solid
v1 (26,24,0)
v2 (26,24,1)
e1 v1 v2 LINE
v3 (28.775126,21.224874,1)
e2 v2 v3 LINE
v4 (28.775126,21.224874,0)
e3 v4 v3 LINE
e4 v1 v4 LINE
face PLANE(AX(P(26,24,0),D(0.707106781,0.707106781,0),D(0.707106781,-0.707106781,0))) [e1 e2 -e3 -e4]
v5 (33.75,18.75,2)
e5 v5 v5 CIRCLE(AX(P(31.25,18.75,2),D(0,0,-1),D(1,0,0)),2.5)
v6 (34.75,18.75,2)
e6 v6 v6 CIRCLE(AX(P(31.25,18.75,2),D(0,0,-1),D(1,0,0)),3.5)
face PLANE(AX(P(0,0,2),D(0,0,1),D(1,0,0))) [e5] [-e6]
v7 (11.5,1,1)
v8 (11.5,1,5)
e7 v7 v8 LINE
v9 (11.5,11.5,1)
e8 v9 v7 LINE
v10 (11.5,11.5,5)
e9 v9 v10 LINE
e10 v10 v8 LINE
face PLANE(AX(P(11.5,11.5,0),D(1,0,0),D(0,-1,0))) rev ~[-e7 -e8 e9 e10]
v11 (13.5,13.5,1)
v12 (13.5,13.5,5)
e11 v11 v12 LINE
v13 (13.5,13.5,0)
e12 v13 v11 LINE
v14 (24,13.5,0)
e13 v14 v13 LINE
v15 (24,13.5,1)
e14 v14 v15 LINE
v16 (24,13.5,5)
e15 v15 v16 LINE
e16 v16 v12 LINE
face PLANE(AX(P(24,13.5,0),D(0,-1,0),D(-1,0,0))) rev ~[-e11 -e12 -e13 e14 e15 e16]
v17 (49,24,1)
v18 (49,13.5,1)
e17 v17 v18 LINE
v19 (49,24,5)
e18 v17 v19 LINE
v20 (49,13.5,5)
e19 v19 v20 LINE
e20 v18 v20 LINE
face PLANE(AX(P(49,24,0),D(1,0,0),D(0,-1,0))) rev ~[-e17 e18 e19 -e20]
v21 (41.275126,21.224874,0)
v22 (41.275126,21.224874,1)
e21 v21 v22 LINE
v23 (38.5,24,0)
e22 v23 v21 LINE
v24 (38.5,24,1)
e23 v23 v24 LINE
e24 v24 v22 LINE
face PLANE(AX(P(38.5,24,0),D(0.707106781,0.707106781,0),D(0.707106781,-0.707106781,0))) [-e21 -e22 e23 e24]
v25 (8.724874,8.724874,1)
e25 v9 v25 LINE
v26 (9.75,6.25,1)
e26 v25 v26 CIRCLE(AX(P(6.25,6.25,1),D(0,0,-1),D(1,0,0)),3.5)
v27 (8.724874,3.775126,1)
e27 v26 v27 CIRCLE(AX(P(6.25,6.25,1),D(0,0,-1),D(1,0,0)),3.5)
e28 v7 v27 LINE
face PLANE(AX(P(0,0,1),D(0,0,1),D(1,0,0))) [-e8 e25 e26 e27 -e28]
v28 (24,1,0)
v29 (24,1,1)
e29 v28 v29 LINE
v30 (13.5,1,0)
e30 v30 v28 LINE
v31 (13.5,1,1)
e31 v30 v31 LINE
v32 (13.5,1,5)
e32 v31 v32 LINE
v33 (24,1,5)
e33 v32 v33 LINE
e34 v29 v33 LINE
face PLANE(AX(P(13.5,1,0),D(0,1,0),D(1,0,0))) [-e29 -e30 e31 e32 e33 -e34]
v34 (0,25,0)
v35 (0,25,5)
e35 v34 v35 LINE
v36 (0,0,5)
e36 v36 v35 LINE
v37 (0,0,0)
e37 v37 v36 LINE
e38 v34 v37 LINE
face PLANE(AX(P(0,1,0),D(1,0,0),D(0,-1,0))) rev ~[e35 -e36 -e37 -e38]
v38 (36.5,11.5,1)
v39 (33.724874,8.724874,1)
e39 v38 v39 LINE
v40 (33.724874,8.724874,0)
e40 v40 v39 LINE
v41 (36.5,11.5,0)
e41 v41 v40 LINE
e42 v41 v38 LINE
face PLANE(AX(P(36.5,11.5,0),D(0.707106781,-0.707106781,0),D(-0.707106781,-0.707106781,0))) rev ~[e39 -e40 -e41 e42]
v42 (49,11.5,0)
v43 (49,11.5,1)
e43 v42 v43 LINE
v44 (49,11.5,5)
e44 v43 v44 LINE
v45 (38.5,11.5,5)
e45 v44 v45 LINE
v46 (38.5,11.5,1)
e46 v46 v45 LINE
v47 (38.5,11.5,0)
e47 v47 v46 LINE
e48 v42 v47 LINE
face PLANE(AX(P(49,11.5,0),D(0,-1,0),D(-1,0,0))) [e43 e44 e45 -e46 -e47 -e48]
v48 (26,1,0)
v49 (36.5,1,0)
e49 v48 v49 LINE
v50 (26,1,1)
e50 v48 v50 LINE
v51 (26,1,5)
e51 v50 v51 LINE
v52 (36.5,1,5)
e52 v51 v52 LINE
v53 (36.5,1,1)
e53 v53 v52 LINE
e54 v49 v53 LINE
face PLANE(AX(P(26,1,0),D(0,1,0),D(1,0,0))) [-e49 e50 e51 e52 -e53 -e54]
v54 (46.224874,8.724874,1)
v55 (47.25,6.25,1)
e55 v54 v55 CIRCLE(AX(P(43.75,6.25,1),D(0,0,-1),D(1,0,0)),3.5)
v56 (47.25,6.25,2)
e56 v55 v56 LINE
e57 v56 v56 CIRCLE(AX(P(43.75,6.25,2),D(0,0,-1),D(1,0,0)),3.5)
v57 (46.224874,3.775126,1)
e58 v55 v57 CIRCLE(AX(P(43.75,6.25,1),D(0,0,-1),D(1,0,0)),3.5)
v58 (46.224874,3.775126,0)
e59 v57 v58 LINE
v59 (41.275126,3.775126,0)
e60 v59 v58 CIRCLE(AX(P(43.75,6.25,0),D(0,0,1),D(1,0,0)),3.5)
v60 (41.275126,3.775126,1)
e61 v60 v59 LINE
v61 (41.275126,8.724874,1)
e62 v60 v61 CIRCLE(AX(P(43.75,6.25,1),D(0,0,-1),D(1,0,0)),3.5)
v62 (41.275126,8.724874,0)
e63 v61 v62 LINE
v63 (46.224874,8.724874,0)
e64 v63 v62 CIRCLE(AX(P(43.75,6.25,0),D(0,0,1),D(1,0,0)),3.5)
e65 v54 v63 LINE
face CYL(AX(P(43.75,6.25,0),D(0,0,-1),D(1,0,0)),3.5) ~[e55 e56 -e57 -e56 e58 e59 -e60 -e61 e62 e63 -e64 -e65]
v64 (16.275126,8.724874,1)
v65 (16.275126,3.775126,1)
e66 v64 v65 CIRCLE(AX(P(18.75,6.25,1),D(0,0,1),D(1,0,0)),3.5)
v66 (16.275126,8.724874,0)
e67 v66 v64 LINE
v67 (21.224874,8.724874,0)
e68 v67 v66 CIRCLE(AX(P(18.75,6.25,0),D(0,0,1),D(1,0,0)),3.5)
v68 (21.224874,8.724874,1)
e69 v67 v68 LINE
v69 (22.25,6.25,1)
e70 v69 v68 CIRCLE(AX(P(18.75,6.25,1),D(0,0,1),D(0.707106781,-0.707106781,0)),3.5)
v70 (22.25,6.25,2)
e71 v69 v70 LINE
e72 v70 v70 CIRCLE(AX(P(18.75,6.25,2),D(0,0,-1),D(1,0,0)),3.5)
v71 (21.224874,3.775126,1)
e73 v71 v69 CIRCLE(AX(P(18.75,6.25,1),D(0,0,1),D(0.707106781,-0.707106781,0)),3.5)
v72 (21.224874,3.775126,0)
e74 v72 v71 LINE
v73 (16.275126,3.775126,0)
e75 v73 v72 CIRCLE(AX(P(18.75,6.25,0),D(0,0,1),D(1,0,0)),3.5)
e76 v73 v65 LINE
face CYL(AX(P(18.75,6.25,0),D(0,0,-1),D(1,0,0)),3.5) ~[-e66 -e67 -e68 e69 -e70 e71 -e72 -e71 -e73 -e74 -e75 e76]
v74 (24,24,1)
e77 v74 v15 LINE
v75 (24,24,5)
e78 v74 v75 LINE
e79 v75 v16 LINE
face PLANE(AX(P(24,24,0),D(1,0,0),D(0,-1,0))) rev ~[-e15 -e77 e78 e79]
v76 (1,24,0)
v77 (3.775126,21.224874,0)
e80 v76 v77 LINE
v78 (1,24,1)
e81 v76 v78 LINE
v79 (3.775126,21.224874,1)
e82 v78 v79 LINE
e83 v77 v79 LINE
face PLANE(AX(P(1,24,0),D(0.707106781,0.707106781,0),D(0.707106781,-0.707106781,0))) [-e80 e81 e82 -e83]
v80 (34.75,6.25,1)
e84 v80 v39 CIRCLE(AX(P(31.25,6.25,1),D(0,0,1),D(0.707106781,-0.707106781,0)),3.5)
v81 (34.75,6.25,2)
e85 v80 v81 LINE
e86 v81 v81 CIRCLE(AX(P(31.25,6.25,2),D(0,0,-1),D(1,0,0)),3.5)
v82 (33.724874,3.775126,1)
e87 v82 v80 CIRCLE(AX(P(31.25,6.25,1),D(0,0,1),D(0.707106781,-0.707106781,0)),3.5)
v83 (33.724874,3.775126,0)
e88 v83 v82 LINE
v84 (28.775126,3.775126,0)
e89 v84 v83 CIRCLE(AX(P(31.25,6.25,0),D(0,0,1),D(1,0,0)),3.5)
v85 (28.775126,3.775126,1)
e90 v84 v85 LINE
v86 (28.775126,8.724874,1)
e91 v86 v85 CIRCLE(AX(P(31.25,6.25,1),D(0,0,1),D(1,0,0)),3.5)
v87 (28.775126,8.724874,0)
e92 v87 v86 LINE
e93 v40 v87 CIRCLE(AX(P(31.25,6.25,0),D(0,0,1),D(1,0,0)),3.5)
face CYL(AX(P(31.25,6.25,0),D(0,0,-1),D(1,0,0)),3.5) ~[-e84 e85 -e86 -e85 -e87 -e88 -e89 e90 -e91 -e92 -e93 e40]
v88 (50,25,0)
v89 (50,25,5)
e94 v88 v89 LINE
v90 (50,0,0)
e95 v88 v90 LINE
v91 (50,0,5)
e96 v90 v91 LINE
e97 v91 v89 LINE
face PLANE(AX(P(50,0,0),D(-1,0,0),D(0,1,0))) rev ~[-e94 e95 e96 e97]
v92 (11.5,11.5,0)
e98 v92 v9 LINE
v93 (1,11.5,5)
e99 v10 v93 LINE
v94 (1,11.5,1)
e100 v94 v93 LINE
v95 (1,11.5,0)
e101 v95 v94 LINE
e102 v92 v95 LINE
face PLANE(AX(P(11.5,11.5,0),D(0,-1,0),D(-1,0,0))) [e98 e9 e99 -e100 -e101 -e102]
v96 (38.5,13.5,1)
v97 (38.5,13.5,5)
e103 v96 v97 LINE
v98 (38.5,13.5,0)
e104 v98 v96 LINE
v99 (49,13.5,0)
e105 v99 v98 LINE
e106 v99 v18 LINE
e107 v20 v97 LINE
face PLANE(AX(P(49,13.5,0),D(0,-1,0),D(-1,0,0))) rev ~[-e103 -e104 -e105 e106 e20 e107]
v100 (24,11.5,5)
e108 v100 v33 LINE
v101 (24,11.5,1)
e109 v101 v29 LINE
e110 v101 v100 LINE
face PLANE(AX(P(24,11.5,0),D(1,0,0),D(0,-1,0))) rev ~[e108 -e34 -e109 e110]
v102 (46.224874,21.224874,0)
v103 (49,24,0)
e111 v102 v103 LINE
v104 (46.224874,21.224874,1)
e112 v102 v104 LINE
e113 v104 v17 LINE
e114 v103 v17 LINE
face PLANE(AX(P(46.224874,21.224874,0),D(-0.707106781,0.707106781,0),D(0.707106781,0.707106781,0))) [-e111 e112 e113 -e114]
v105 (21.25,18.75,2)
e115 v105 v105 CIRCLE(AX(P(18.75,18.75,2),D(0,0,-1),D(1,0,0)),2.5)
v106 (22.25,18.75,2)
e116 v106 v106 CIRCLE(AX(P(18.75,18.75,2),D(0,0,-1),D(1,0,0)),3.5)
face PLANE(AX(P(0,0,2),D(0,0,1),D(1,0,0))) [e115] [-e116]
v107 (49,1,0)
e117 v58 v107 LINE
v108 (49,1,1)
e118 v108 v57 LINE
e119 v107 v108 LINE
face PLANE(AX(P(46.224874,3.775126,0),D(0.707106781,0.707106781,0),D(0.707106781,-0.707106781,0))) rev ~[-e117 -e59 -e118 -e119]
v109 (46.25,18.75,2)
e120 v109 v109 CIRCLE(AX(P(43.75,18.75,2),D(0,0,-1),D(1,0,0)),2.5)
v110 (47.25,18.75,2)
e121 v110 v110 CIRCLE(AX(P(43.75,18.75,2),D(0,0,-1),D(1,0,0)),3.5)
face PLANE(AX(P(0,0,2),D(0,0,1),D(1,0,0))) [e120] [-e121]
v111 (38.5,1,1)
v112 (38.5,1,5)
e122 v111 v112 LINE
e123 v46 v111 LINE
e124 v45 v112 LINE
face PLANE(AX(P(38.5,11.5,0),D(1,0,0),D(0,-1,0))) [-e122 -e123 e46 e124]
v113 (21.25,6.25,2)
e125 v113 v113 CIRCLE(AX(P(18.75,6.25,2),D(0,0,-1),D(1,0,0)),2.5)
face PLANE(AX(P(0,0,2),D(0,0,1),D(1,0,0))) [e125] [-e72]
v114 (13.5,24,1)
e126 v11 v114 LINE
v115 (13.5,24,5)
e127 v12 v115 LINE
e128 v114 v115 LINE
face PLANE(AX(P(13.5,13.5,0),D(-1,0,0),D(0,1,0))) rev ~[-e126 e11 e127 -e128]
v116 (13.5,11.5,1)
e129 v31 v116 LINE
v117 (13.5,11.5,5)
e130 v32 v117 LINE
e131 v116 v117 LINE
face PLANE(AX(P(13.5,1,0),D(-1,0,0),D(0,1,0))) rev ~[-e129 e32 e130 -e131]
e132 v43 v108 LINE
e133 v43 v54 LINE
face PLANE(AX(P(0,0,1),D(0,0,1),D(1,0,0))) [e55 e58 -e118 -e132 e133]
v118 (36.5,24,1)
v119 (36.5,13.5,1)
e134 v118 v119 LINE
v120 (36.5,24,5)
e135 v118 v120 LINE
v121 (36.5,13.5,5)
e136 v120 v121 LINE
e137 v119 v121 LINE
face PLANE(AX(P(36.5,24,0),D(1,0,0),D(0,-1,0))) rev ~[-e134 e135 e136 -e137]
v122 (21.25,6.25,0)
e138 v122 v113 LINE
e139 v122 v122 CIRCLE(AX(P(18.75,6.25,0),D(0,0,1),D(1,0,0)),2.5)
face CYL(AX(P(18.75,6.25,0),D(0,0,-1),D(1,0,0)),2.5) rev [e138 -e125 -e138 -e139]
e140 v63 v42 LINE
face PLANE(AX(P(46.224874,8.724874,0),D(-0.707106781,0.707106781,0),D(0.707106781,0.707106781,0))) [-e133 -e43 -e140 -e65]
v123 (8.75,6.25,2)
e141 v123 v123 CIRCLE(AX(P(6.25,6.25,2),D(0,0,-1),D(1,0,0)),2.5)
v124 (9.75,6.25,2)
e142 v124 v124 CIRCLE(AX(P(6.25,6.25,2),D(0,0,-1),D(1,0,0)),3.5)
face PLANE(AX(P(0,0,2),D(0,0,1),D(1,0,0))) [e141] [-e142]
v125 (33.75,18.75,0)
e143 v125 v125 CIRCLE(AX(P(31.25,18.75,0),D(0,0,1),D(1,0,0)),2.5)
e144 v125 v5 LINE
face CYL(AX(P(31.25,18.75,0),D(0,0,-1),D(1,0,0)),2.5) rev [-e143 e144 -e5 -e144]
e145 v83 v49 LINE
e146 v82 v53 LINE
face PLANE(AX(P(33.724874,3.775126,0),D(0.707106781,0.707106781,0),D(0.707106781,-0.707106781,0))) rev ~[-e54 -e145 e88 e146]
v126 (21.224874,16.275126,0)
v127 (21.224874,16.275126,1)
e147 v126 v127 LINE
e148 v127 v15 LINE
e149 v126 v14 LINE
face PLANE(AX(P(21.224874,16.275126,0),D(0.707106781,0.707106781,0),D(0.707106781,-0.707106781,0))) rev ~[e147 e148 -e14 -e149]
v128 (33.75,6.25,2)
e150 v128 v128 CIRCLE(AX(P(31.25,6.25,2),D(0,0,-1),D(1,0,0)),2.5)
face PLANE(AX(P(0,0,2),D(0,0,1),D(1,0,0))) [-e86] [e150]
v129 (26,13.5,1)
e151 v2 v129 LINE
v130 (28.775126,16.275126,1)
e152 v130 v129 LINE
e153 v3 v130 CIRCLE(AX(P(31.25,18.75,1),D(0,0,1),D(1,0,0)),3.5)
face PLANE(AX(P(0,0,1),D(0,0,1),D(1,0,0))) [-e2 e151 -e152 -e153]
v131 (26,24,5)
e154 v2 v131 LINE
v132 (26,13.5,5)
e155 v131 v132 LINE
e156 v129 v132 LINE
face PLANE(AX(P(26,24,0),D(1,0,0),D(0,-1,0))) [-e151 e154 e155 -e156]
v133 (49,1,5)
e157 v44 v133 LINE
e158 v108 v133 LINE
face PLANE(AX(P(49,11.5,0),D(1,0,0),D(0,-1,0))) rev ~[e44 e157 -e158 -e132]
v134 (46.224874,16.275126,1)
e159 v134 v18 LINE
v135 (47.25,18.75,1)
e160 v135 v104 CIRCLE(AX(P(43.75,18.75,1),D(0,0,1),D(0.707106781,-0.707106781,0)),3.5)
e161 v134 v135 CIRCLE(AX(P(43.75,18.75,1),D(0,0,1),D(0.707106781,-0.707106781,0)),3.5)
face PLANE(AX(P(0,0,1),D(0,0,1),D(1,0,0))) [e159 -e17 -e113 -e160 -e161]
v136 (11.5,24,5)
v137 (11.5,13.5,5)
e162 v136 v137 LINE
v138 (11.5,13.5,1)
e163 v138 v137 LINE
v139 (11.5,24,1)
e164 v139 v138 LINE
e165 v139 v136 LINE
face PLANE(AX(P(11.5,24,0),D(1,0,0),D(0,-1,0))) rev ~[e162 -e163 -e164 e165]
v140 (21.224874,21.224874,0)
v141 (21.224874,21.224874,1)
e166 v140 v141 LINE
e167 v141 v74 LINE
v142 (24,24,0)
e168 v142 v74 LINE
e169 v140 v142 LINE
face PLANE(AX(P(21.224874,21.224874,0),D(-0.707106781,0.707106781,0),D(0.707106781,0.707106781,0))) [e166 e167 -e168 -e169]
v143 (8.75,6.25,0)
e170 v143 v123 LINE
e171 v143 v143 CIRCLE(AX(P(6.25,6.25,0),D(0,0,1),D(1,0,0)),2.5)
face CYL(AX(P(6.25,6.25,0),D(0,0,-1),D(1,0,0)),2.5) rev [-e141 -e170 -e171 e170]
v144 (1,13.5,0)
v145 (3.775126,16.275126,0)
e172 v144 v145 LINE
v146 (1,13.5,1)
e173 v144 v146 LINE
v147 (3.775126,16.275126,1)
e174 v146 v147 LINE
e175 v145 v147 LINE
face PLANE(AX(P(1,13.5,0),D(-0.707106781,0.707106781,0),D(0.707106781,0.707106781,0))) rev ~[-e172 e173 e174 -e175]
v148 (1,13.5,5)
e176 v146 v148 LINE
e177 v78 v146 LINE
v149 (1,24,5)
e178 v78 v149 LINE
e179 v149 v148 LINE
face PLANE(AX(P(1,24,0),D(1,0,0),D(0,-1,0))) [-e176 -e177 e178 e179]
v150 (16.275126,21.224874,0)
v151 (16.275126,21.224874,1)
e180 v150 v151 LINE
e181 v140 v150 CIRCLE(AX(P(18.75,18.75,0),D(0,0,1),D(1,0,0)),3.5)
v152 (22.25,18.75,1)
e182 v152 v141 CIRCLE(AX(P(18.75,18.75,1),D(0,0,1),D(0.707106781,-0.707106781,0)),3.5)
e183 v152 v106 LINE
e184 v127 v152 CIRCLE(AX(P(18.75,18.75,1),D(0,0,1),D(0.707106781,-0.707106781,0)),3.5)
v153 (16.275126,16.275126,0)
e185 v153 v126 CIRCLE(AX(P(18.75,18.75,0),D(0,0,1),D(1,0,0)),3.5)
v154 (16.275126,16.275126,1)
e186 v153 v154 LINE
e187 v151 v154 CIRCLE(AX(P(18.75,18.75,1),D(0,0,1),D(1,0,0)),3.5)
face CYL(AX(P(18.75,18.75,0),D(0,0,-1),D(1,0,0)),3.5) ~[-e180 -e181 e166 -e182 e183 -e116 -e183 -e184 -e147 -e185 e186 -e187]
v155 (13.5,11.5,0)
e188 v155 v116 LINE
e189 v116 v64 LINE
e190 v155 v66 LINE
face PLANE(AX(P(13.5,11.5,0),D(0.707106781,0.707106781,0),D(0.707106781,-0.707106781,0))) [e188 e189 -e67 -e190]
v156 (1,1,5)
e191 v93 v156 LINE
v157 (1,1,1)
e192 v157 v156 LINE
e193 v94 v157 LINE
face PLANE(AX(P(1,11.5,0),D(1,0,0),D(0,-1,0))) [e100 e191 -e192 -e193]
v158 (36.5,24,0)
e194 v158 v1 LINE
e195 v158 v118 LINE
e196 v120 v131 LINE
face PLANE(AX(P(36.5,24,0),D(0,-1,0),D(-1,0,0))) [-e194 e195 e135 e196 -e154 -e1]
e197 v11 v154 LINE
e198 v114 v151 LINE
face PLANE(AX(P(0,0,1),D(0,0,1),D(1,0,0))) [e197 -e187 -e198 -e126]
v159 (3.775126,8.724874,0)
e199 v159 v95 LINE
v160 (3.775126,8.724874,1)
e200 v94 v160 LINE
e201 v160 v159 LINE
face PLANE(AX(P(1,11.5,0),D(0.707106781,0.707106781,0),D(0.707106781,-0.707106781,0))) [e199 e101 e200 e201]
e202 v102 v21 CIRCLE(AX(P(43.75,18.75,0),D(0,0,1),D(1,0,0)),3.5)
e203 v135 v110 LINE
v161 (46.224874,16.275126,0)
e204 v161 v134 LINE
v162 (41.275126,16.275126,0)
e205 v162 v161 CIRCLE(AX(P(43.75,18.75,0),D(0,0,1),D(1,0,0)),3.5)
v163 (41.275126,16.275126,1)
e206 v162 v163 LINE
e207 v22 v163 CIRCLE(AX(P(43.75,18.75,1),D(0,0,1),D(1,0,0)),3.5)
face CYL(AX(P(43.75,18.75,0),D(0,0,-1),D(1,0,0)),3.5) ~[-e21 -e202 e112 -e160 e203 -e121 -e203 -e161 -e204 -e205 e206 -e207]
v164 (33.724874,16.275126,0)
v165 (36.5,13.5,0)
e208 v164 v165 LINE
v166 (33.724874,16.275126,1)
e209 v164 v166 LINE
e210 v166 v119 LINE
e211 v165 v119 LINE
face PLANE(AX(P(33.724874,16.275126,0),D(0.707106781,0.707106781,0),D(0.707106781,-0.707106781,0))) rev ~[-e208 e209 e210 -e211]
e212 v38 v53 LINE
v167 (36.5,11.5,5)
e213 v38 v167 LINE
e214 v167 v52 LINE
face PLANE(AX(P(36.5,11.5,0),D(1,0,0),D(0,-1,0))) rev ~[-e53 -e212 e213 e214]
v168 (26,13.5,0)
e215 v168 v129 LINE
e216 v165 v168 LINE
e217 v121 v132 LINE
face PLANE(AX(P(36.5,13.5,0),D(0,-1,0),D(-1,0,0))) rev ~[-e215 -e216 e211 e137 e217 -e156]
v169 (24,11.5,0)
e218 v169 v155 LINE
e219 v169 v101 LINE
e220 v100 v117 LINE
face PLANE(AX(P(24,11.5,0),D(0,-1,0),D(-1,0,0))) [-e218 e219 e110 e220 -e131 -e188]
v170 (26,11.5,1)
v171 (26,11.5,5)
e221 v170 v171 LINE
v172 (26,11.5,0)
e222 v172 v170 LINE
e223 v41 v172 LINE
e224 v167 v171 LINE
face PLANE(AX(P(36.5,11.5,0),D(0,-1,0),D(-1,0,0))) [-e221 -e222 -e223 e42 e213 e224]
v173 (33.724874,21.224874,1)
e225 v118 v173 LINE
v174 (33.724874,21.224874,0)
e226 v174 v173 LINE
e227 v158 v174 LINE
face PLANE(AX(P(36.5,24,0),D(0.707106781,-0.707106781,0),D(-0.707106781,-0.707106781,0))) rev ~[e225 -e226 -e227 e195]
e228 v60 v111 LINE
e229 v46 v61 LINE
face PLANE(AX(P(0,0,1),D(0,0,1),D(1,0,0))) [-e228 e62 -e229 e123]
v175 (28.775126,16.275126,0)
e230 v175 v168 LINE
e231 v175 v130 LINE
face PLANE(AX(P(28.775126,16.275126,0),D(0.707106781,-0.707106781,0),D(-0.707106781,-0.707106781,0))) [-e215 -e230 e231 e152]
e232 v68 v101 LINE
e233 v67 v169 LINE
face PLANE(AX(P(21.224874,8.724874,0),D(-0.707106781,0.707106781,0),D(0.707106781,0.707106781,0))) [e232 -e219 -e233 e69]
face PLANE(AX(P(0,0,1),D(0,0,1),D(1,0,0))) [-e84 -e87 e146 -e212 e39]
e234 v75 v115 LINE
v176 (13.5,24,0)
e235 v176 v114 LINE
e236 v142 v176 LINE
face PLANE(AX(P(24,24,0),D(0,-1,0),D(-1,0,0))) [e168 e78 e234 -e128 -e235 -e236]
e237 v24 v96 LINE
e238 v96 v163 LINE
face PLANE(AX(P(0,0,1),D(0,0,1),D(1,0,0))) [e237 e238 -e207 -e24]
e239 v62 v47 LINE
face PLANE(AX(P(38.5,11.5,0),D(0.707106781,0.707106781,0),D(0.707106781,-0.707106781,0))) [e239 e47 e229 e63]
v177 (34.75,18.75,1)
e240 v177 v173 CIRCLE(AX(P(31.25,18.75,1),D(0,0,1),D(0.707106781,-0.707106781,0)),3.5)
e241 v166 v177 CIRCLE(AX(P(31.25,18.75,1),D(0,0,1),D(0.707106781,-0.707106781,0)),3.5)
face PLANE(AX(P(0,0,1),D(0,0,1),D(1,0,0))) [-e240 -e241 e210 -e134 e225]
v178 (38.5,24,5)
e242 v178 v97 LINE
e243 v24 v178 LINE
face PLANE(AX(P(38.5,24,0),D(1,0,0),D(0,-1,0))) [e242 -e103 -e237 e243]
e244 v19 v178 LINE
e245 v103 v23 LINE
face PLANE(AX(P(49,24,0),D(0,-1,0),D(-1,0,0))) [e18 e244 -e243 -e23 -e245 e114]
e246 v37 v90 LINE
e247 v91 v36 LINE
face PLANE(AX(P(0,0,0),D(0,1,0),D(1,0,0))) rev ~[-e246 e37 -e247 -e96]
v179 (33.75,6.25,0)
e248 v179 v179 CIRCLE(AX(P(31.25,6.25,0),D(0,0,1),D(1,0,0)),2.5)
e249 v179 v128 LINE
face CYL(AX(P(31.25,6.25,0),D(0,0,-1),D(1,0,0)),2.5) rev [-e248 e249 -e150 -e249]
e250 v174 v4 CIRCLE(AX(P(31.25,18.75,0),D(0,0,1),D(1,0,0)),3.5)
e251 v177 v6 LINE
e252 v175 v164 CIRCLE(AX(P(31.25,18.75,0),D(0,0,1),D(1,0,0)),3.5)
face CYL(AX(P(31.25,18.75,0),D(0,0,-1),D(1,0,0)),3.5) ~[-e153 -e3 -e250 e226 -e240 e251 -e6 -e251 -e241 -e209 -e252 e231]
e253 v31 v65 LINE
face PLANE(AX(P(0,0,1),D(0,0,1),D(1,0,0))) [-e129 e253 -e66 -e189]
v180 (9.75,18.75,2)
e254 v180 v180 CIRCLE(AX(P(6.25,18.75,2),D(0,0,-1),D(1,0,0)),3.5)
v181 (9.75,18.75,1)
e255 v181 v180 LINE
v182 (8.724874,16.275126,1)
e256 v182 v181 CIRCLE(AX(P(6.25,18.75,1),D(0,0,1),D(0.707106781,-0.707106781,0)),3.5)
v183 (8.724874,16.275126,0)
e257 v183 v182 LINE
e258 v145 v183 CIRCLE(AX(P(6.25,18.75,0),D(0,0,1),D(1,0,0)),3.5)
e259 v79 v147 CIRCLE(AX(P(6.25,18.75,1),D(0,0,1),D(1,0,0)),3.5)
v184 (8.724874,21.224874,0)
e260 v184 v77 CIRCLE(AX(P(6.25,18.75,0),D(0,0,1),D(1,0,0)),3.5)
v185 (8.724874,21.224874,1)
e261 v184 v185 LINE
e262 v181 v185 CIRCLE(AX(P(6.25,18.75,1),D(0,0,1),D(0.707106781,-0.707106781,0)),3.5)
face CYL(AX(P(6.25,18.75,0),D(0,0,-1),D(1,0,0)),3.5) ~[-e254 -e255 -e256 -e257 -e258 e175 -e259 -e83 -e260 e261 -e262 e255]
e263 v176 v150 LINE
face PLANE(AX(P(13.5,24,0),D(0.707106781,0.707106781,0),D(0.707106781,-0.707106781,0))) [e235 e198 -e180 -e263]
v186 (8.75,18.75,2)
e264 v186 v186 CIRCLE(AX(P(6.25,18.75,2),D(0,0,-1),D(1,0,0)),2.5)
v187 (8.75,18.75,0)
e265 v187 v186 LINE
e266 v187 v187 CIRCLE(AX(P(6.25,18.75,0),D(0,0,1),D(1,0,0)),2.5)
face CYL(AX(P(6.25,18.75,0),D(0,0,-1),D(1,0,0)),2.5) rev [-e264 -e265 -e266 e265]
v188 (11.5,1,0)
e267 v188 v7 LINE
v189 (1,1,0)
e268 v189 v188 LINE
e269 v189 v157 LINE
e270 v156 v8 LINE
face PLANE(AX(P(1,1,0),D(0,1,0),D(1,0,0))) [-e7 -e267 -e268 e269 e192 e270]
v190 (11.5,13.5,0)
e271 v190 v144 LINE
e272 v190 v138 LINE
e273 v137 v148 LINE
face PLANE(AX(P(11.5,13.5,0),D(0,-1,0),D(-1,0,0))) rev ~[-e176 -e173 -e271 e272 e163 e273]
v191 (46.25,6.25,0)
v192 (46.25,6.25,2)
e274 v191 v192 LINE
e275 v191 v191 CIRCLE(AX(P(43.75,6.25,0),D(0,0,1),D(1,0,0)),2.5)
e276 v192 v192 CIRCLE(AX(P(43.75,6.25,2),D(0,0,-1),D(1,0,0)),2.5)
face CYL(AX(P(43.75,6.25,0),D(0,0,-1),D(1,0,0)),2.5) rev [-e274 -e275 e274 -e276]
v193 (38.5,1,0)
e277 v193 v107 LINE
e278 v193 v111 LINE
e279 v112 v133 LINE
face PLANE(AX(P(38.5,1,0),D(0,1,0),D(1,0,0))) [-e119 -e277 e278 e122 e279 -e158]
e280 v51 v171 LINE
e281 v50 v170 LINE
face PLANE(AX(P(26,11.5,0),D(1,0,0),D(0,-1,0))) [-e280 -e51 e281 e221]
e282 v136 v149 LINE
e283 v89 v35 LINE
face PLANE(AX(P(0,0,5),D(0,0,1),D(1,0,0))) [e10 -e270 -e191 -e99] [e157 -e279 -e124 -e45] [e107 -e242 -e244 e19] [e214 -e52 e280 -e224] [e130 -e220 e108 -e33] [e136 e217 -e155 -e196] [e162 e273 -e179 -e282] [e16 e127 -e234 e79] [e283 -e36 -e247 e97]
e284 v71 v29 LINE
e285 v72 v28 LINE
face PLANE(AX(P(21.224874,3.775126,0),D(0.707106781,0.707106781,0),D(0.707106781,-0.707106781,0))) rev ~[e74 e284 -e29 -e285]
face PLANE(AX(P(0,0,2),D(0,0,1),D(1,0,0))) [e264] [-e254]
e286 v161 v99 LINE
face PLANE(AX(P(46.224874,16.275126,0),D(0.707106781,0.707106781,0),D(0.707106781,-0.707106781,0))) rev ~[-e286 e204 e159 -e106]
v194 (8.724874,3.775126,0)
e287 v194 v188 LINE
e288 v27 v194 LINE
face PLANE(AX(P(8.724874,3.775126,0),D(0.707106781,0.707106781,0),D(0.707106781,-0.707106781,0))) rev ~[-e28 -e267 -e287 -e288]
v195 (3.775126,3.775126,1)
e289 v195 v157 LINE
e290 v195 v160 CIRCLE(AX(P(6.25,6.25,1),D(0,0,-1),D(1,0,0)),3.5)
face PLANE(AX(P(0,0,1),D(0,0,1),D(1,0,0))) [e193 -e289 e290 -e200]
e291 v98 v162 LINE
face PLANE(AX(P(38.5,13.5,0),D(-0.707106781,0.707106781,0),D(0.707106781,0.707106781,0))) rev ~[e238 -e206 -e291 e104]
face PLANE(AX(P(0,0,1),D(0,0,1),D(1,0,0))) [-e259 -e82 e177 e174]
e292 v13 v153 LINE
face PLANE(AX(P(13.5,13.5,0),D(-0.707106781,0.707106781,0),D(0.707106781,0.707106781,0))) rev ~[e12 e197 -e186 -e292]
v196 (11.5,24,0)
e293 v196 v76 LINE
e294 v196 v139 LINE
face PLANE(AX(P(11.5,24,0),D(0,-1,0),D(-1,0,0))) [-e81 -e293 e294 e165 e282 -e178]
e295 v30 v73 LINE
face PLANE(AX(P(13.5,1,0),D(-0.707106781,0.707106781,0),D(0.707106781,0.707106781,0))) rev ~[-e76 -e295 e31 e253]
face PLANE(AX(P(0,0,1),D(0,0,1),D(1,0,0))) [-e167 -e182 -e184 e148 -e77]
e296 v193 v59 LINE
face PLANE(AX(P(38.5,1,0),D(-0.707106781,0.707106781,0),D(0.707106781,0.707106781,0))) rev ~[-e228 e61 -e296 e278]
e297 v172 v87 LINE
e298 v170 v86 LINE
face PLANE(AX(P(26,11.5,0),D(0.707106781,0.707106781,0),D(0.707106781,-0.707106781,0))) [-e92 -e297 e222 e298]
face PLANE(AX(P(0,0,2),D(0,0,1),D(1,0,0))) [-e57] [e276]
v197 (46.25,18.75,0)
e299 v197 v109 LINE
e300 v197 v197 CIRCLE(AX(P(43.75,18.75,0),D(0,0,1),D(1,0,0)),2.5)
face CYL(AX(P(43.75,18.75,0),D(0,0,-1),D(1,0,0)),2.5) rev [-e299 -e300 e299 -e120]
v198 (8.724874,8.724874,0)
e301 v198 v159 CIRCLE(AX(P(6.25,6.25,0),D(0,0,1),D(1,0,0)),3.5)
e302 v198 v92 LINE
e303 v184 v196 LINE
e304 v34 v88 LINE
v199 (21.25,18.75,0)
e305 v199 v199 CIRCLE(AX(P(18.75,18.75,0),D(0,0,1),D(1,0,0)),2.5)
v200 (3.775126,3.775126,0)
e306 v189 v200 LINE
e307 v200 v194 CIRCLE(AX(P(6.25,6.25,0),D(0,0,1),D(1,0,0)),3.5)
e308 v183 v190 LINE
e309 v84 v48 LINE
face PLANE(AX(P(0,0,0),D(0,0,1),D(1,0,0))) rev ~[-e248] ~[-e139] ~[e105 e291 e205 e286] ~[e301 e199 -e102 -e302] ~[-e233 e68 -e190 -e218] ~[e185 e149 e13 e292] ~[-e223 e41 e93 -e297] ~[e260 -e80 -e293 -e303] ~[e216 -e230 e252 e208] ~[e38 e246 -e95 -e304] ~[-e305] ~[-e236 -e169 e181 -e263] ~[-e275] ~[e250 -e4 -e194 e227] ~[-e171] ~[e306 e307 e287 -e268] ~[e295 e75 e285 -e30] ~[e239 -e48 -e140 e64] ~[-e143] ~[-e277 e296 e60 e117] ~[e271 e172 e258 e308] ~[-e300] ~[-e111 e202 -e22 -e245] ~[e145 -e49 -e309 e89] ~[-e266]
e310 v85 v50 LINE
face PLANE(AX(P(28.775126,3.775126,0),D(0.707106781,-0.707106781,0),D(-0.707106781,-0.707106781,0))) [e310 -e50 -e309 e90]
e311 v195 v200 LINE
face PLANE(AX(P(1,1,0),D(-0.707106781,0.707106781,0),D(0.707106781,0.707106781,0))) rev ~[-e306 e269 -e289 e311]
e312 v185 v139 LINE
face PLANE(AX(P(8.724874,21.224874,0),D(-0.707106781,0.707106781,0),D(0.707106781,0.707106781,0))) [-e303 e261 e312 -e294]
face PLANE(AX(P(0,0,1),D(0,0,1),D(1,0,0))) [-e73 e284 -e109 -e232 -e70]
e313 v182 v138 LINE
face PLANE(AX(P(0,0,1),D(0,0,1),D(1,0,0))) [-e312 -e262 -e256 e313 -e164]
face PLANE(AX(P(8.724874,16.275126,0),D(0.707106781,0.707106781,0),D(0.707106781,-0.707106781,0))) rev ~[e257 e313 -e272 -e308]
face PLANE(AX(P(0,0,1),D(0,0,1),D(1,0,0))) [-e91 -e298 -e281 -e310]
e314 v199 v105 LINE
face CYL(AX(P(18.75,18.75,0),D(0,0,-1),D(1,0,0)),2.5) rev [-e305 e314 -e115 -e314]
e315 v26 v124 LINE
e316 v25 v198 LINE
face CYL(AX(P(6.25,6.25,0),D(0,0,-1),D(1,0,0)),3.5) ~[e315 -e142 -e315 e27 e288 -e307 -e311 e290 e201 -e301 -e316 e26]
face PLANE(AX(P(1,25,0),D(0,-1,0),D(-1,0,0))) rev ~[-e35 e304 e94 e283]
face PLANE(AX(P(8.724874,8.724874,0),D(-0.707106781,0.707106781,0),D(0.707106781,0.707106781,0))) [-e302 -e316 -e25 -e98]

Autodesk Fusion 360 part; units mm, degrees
sketch "Sketch1" plane through (0, 0, 0) normal (0, 0, 1) x (1, 0, 0)
  line L0 (0, 0) -> (50, 0)
  line L1 (50, 0) -> (50, 25)
  line L2 (50, 25) -> (0, 25)
  line L3 (0, 25) -> (0, 0)
  line L4 (-2.5, -2.5) -> (52.5, -2.5)
  line L5 (52.5, -2.5) -> (52.5, 27.5)
  line L6 (52.5, 27.5) -> (-2.5, 27.5)
  line L7 (-2.5, 27.5) -> (-2.5, -2.5)
  line L8 (0, 25) -> (12.5, 25)
  line L9 (12.5, 25) -> (12.5, 12.5)
  line L10 (12.5, 12.5) -> (0, 12.5)
  line L11 (0, 12.5) -> (0, 25)
  line L12 (12.5, 12.5) -> (0, 12.5)
  line L13 (0, 12.5) -> (0, 0)
  line L14 (0, 0) -> (12.5, 0)
  line L15 (12.5, 0) -> (12.5, 12.5)
  line L16 (12.5, 12.5) -> (25, 12.5)
  line L17 (25, 12.5) -> (25, 25)
  line L18 (25, 25) -> (12.5, 25)
  line L19 (12.5, 25) -> (12.5, 12.5)
  line L20 (12.5, 12.5) -> (25, 12.5)
  line L21 (25, 12.5) -> (25, 0)
  line L22 (25, 0) -> (12.5, 0)
  line L23 (12.5, 0) -> (12.5, 12.5)
  line L24 (25, 12.5) -> (37.5, 12.5)
  line L25 (37.5, 12.5) -> (37.5, 25)
  line L26 (37.5, 25) -> (25, 25)
  line L27 (25, 25) -> (25, 12.5)
  line L28 (37.5, 12.5) -> (25, 12.5)
  line L29 (25, 12.5) -> (25, 0)
  line L30 (25, 0) -> (37.5, 0)
  line L31 (37.5, 0) -> (37.5, 12.5)
  line L32 (37.5, 12.5) -> (50, 12.5)
  line L33 (50, 12.5) -> (50, 0)
  line L34 (50, 0) -> (37.5, 0)
  line L35 (37.5, 0) -> (37.5, 12.5)
  line L36 (0, 25) -> (1, 25)
  line L37 (1, 25) -> (1, 0)
  line L38 (1, 0) -> (0, 0)
  line L39 (0, 0) -> (0, 25)
  line L40 (0, 25) -> (50, 25)
  line L41 (50, 25) -> (50, 24)
  line L42 (50, 24) -> (0, 24)
  line L43 (0, 24) -> (0, 25)
  line L44 (50, 0) -> (0, 0)
  line L45 (0, 0) -> (0, 1)
  line L46 (0, 1) -> (50, 1)
  line L47 (50, 1) -> (50, 0)
  line L48 (50, 25) -> (49, 25)
  line L49 (49, 25) -> (49, 0)
  line L50 (49, 0) -> (50, 0)
  line L51 (50, 0) -> (50, 25)
  line L52 (0, 12.5) -> (50, 12.5)
  line L53 (50, 12.5) -> (50, 11.5)
  line L54 (50, 11.5) -> (0, 11.5)
  line L55 (0, 11.5) -> (0, 12.5)
  line L56 (0, 12.5) -> (50, 12.5)
  line L57 (50, 12.5) -> (50, 13.5)
  line L58 (50, 13.5) -> (0, 13.5)
  line L59 (0, 13.5) -> (0, 12.5)
  line L60 (50, 25) -> (49, 25)
  line L61 (49, 25) -> (49, 0)
  line L62 (49, 0) -> (50, 0)
  line L63 (50, 0) -> (50, 25)
  line L64 (12.5, 0) -> (13.5, 0)
  line L65 (13.5, 0) -> (13.5, 25)
  line L66 (13.5, 25) -> (12.5, 25)
  line L67 (12.5, 25) -> (12.5, 0)
  line L68 (12.5, 25) -> (11.5, 25)
  line L69 (11.5, 25) -> (11.5, 0)
  line L70 (11.5, 0) -> (12.5, 0)
  line L71 (12.5, 0) -> (12.5, 25)
  line L72 (25, 25) -> (26, 25)
  line L73 (26, 25) -> (26, 0)
  line L74 (26, 0) -> (25, 0)
  line L75 (25, 0) -> (25, 25)
  line L76 (25, 25) -> (24, 25)
  line L77 (24, 25) -> (24, 0)
  line L78 (24, 0) -> (25, 0)
  line L79 (25, 0) -> (25, 25)
  line L80 (37.5, 25) -> (38.5, 25)
  line L81 (38.5, 25) -> (38.5, 0)
  line L82 (38.5, 0) -> (37.5, 0)
  line L83 (37.5, 0) -> (37.5, 25)
  line L84 (37.5, 25) -> (36.5, 25)
  line L85 (36.5, 25) -> (36.5, 0)
  line L86 (36.5, 0) -> (37.5, 0)
  line L87 (37.5, 0) -> (37.5, 25)
  line L88 (1, 24) -> (11.5, 13.5)
  line L89 (1, 13.5) -> (11.5, 24)
  line L90 (1, 11.5) -> (11.5, 1)
  line L91 (1, 1) -> (11.5, 11.5)
  line L92 (13.5, 24) -> (24, 13.5)
  line L93 (13.5, 13.5) -> (24, 24)
  line L94 (13.5, 11.5) -> (24, 1)
  line L95 (13.5, 1) -> (24, 11.5)
  line L96 (26, 11.5) -> (36.5, 1)
  line L97 (26, 1) -> (26, 1.4048)
  line L98 (36.5, 11.5) -> (26, 1)
  line L99 (36.5, 24) -> (26, 13.5)
  line L100 (26, 24) -> (36.5, 13.5)
  line L101 (38.5, 24) -> (49, 13.5)
  line L102 (38.5, 13.5) -> (49, 24)
  line L103 (38.5, 11.5) -> (49, 1)
  line L104 (38.5, 1) -> (49, 11.5)
  circle A0 centre (6.25, 18.75) radius 2.5
  circle A1 centre (18.75, 18.75) radius 2.5
  circle A2 centre (31.25, 18.75) radius 2.5
  circle A3 centre (43.75, 18.75) radius 2.5
  circle A4 centre (43.75, 6.25) radius 2.5
  circle A5 centre (31.25, 6.25) radius 2.5
  circle A6 centre (18.75, 6.25) radius 2.5
  circle A7 centre (6.25, 6.25) radius 2.5
  circle A8 centre (18.75, 6.25) radius 3.5
  circle A9 centre (31.25, 6.25) radius 3.5
  circle A10 centre (31.25, 18.75) radius 3.5
  circle A11 centre (18.75, 18.75) radius 3.5
  circle A12 centre (6.25, 18.75) radius 3.5
  circle A13 centre (43.75, 18.75) radius 3.5
  circle A14 centre (6.25, 6.25) radius 3.5
  circle A15 centre (43.75, 6.25) radius 3.5
  dimension "d1" = 50
  dimension "d2" = 25
  dimension "d3" = 2.5
  dimension "d4" = 12.5
  dimension "d5" = 12.5
  dimension "d6" = 12.5
  dimension "d7" = 12.5
  dimension "d8" = 12.5
  dimension "d9" = 12.5
  dimension "d10" = 12.5
  dimension "d11" = 12.5
  dimension "d12" = 12.5
  dimension "d13" = 12.5
  dimension "d14" = 12.5
  dimension "d15" = 1
  dimension "d16" = 1
  dimension "d17" = 1
  dimension "d18" = 1
  dimension "d19" = 25
  dimension "d20" = 50
  dimension "d21" = 1
  dimension "d22" = 50
  dimension "d23" = 1
  dimension "d24" = 1
  dimension "d25" = 1
  dimension "d26" = 25
  dimension "d27" = 1
  dimension "d28" = 1
  dimension "d29" = 1
  dimension "d30" = 1
  dimension "d31" = 5
  dimension "d32" = 5
  dimension "d33" = 5
  dimension "d34" = 5
  dimension "d35" = 5
  dimension "d36" = 5
  dimension "d37" = 5
  dimension "d38" = 5
  dimension "d39" = 1
  dimension "d40" = 1
  dimension "d41" = 1
  dimension "d42" = 1
  dimension "d43" = 1
  dimension "d44" = 1
  dimension "d51" = 1
  dimension "d52" = 1
extrude "Extrude2" add sketch "Sketch1" along normal blind 5 contours L0 L3 L13 L14 L37 L38 L39 L44 L45 L46 | L0 L14 L37 L44 L46 L69 | L3 L13 L37 L39 L46 L54 | L0 L14 L15 L23 L44 L46 L67 L69 L70 L71 | L3 L10 L12 L13 L37 L39 L52 L54 L55 L56 | L0 L15 L22 L23 L44 L46 L64 L65 L67 L71 | L15 L23 L46 L54 L67 L69 L71 | L10 L12 L37 L52 L54 L56 L69 | L3 L10 L11 L12 L37 L39 L52 L56 L58 L59 | L0 L22 L44 L46 L65 L77 | L15 L23 L46 L54 L65 L67 L71 | L10 L12 L15 L23 L52 L54 L56 L67 L69 L71 | L10 L12 L37 L52 L56 L58 L69 | L3 L11 L37 L39 L42 L58 | L0 L21 L22 L29 L44 L46 L75 L77 L78 L79 | L15 L16 L20 L23 L52 L54 L56 L65 L67 L71 | L9 L10 L12 L19 L52 L56 L58 L67 L69 L71 | L2 L3 L8 L11 L36 L37 L39 L40 L42 L43 | L0 L21 L29 L30 L44 L46 L73 L74 L75 L79 | L21 L29 L46 L54 L75 L77 L79 | L16 L20 L52 L54 L56 L65 L77 | L9 L16 L19 L20 L52 L56 L58 L65 L67 L71 | L9 L19 L42 L58 L67 L69 L71 | L2 L8 L37 L40 L42 L69 | L0 L30 L44 L46 L73 L85 | L21 L29 L46 L54 L73 L75 L79 L97 | L16 L20 L21 L29 L52 L54 L56 L75 L77 L79 | L16 L20 L52 L56 L58 L65 L77 | L9 L19 L42 L58 L65 L67 L71 | L2 L8 L9 L19 L40 L42 L67 L68 L69 L71 | L0 L30 L31 L35 L44 L46 L83 L85 L86 L87 | L21 L24 L28 L29 L52 L54 L56 L73 L75 L79 | L16 L17 L20 L27 L52 L56 L58 L75 L77 L79 | L2 L9 L18 L19 L40 L42 L65 L66 L67 L71 | L0 L31 L34 L35 L44 L46 L81 L82 L83 L87 | L31 L35 L46 L54 L83 L85 L87 | L17 L24 L27 L28 L52 L56 L58 L73 L75 L79 | L24 L28 L52 L54 L56 L73 L85 | L17 L27 L42 L58 L75 L77 L79 | L2 L18 L40 L42 L65 L77 | L0 L34 L44 L46 L49 L61 L81 | L31 L35 L46 L54 L81 L83 L87 | L24 L28 L31 L35 L52 L54 L56 L83 L85 L87 | L17 L27 L42 L58 L73 L75 L79 | L24 L28 L52 L56 L58 L73 L85 | L2 L17 L18 L27 L40 L42 L75 L76 L77 L79 | L0 L1 L33 L34 L44 L46 L47 L49 L50 L51 L61 L62 L63 | L31 L32 L35 L52 L54 L56 L81 L83 L87 | L24 L25 L28 L52 L56 L58 L83 L85 L87 | L2 L17 L26 L27 L40 L42 L72 L73 L75 L79 | L1 L33 L46 L49 L51 L54 L61 L63 | L32 L49 L52 L54 L56 L61 L81 | L25 L32 L52 L56 L58 L81 L83 L87 | L25 L42 L58 L83 L85 L87 | L2 L26 L40 L42 L73 L85 | L1 L32 L33 L49 L51 L52 L53 L54 L56 L61 L63 | L32 L49 L52 L56 L58 L61 L81 | L25 L42 L58 L81 L83 L87 | L2 L25 L26 L40 L42 L83 L84 L85 L87 | L1 L32 L49 L51 L52 L56 L57 L58 L61 L63 | L2 L25 L40 L42 L80 L81 L83 L87 | L1 L42 L49 L51 L58 L61 L63 | L2 L40 L42 L49 L61 L81 | L1 L2 L40 L41 L42 L48 L49 L51 L60 L61 L63 makes body 1
extrude "Extrude1" add sketch "Sketch1" along normal blind 2 separate body contours L90 L91 A7 A14 | L90 L91 A7 A14 | L90 L91 A7 A14 | L90 L91 A7 A14 | L94 L95 A6 A8 | L94 L95 A6 A8 | L88 L89 A0 A12 | L88 L89 A0 A12 | L94 L95 A6 A8 | L94 L95 A6 A8 | L88 L89 A0 A12 | L88 L89 A0 A12 | L96 L98 A5 A9 | L96 L98 A5 A9 | L92 L93 A1 A11 | L92 L93 A1 A11 | L96 L98 A5 A9 | L96 L98 A5 A9 | L92 L93 A1 A11 | L92 L93 A1 A11 | L103 L104 A4 A15 | L103 L104 A4 A15 | L99 L100 A2 A10 | L99 L100 A2 A10 | L103 L104 A4 A15 | L103 L104 A4 A15 | L99 L100 A2 A10 | L99 L100 A2 A10 | L101 L102 A3 A13 | L101 L102 A3 A13 | L101 L102 A3 A13 | L101 L102 A3 A13 makes body 2 at (9.7326, 19.0985, 1.3333) makes body 3 at (34.7326, 6.5985, 0.6667) makes body 4 at (22.2326, 19.0985, 1.3333) makes body 5 at (34.7326, 19.0985, 0.6667) makes body 6 at (22.2326, 6.5985, 0.6667) makes body 7 at (47.2326, 6.5985, 1.3333) makes body 8 at (47.2326, 19.0985, 1.3333) makes body 9 at (9.7326, 6.5985, 1.3333)
extrude "Extrude3" add sketch "Sketch1" along normal blind 1 contours L37 L90 L91 A14 | L69 L90 L91 A14 | L90 L91 A7 A14 | L90 L91 A7 A14 | L65 L94 L95 A8 | L37 L88 L89 A12 | L77 L94 L95 A8 | L69 L88 L89 A12 | L73 L96 L97 L98 A9 | L65 L92 L93 A11 | L85 L96 L98 A9 | L77 L92 L93 A11 | L81 L103 L104 A15 | L73 L99 L100 A10 | L49 L61 L103 L104 A15 | L103 L104 A4 A15 | L85 L99 L100 A10 | L103 L104 A4 A15 | L81 L101 L102 A13 | L49 L61 L101 L102 A13 picked at (3.824, 4.2265) picked at (9.3996, 5.9889) picked at (41.0607, 4.5923) picked at (46.0898, 4.1256) bodies 7 1 3 4 5 6 8 9 2
